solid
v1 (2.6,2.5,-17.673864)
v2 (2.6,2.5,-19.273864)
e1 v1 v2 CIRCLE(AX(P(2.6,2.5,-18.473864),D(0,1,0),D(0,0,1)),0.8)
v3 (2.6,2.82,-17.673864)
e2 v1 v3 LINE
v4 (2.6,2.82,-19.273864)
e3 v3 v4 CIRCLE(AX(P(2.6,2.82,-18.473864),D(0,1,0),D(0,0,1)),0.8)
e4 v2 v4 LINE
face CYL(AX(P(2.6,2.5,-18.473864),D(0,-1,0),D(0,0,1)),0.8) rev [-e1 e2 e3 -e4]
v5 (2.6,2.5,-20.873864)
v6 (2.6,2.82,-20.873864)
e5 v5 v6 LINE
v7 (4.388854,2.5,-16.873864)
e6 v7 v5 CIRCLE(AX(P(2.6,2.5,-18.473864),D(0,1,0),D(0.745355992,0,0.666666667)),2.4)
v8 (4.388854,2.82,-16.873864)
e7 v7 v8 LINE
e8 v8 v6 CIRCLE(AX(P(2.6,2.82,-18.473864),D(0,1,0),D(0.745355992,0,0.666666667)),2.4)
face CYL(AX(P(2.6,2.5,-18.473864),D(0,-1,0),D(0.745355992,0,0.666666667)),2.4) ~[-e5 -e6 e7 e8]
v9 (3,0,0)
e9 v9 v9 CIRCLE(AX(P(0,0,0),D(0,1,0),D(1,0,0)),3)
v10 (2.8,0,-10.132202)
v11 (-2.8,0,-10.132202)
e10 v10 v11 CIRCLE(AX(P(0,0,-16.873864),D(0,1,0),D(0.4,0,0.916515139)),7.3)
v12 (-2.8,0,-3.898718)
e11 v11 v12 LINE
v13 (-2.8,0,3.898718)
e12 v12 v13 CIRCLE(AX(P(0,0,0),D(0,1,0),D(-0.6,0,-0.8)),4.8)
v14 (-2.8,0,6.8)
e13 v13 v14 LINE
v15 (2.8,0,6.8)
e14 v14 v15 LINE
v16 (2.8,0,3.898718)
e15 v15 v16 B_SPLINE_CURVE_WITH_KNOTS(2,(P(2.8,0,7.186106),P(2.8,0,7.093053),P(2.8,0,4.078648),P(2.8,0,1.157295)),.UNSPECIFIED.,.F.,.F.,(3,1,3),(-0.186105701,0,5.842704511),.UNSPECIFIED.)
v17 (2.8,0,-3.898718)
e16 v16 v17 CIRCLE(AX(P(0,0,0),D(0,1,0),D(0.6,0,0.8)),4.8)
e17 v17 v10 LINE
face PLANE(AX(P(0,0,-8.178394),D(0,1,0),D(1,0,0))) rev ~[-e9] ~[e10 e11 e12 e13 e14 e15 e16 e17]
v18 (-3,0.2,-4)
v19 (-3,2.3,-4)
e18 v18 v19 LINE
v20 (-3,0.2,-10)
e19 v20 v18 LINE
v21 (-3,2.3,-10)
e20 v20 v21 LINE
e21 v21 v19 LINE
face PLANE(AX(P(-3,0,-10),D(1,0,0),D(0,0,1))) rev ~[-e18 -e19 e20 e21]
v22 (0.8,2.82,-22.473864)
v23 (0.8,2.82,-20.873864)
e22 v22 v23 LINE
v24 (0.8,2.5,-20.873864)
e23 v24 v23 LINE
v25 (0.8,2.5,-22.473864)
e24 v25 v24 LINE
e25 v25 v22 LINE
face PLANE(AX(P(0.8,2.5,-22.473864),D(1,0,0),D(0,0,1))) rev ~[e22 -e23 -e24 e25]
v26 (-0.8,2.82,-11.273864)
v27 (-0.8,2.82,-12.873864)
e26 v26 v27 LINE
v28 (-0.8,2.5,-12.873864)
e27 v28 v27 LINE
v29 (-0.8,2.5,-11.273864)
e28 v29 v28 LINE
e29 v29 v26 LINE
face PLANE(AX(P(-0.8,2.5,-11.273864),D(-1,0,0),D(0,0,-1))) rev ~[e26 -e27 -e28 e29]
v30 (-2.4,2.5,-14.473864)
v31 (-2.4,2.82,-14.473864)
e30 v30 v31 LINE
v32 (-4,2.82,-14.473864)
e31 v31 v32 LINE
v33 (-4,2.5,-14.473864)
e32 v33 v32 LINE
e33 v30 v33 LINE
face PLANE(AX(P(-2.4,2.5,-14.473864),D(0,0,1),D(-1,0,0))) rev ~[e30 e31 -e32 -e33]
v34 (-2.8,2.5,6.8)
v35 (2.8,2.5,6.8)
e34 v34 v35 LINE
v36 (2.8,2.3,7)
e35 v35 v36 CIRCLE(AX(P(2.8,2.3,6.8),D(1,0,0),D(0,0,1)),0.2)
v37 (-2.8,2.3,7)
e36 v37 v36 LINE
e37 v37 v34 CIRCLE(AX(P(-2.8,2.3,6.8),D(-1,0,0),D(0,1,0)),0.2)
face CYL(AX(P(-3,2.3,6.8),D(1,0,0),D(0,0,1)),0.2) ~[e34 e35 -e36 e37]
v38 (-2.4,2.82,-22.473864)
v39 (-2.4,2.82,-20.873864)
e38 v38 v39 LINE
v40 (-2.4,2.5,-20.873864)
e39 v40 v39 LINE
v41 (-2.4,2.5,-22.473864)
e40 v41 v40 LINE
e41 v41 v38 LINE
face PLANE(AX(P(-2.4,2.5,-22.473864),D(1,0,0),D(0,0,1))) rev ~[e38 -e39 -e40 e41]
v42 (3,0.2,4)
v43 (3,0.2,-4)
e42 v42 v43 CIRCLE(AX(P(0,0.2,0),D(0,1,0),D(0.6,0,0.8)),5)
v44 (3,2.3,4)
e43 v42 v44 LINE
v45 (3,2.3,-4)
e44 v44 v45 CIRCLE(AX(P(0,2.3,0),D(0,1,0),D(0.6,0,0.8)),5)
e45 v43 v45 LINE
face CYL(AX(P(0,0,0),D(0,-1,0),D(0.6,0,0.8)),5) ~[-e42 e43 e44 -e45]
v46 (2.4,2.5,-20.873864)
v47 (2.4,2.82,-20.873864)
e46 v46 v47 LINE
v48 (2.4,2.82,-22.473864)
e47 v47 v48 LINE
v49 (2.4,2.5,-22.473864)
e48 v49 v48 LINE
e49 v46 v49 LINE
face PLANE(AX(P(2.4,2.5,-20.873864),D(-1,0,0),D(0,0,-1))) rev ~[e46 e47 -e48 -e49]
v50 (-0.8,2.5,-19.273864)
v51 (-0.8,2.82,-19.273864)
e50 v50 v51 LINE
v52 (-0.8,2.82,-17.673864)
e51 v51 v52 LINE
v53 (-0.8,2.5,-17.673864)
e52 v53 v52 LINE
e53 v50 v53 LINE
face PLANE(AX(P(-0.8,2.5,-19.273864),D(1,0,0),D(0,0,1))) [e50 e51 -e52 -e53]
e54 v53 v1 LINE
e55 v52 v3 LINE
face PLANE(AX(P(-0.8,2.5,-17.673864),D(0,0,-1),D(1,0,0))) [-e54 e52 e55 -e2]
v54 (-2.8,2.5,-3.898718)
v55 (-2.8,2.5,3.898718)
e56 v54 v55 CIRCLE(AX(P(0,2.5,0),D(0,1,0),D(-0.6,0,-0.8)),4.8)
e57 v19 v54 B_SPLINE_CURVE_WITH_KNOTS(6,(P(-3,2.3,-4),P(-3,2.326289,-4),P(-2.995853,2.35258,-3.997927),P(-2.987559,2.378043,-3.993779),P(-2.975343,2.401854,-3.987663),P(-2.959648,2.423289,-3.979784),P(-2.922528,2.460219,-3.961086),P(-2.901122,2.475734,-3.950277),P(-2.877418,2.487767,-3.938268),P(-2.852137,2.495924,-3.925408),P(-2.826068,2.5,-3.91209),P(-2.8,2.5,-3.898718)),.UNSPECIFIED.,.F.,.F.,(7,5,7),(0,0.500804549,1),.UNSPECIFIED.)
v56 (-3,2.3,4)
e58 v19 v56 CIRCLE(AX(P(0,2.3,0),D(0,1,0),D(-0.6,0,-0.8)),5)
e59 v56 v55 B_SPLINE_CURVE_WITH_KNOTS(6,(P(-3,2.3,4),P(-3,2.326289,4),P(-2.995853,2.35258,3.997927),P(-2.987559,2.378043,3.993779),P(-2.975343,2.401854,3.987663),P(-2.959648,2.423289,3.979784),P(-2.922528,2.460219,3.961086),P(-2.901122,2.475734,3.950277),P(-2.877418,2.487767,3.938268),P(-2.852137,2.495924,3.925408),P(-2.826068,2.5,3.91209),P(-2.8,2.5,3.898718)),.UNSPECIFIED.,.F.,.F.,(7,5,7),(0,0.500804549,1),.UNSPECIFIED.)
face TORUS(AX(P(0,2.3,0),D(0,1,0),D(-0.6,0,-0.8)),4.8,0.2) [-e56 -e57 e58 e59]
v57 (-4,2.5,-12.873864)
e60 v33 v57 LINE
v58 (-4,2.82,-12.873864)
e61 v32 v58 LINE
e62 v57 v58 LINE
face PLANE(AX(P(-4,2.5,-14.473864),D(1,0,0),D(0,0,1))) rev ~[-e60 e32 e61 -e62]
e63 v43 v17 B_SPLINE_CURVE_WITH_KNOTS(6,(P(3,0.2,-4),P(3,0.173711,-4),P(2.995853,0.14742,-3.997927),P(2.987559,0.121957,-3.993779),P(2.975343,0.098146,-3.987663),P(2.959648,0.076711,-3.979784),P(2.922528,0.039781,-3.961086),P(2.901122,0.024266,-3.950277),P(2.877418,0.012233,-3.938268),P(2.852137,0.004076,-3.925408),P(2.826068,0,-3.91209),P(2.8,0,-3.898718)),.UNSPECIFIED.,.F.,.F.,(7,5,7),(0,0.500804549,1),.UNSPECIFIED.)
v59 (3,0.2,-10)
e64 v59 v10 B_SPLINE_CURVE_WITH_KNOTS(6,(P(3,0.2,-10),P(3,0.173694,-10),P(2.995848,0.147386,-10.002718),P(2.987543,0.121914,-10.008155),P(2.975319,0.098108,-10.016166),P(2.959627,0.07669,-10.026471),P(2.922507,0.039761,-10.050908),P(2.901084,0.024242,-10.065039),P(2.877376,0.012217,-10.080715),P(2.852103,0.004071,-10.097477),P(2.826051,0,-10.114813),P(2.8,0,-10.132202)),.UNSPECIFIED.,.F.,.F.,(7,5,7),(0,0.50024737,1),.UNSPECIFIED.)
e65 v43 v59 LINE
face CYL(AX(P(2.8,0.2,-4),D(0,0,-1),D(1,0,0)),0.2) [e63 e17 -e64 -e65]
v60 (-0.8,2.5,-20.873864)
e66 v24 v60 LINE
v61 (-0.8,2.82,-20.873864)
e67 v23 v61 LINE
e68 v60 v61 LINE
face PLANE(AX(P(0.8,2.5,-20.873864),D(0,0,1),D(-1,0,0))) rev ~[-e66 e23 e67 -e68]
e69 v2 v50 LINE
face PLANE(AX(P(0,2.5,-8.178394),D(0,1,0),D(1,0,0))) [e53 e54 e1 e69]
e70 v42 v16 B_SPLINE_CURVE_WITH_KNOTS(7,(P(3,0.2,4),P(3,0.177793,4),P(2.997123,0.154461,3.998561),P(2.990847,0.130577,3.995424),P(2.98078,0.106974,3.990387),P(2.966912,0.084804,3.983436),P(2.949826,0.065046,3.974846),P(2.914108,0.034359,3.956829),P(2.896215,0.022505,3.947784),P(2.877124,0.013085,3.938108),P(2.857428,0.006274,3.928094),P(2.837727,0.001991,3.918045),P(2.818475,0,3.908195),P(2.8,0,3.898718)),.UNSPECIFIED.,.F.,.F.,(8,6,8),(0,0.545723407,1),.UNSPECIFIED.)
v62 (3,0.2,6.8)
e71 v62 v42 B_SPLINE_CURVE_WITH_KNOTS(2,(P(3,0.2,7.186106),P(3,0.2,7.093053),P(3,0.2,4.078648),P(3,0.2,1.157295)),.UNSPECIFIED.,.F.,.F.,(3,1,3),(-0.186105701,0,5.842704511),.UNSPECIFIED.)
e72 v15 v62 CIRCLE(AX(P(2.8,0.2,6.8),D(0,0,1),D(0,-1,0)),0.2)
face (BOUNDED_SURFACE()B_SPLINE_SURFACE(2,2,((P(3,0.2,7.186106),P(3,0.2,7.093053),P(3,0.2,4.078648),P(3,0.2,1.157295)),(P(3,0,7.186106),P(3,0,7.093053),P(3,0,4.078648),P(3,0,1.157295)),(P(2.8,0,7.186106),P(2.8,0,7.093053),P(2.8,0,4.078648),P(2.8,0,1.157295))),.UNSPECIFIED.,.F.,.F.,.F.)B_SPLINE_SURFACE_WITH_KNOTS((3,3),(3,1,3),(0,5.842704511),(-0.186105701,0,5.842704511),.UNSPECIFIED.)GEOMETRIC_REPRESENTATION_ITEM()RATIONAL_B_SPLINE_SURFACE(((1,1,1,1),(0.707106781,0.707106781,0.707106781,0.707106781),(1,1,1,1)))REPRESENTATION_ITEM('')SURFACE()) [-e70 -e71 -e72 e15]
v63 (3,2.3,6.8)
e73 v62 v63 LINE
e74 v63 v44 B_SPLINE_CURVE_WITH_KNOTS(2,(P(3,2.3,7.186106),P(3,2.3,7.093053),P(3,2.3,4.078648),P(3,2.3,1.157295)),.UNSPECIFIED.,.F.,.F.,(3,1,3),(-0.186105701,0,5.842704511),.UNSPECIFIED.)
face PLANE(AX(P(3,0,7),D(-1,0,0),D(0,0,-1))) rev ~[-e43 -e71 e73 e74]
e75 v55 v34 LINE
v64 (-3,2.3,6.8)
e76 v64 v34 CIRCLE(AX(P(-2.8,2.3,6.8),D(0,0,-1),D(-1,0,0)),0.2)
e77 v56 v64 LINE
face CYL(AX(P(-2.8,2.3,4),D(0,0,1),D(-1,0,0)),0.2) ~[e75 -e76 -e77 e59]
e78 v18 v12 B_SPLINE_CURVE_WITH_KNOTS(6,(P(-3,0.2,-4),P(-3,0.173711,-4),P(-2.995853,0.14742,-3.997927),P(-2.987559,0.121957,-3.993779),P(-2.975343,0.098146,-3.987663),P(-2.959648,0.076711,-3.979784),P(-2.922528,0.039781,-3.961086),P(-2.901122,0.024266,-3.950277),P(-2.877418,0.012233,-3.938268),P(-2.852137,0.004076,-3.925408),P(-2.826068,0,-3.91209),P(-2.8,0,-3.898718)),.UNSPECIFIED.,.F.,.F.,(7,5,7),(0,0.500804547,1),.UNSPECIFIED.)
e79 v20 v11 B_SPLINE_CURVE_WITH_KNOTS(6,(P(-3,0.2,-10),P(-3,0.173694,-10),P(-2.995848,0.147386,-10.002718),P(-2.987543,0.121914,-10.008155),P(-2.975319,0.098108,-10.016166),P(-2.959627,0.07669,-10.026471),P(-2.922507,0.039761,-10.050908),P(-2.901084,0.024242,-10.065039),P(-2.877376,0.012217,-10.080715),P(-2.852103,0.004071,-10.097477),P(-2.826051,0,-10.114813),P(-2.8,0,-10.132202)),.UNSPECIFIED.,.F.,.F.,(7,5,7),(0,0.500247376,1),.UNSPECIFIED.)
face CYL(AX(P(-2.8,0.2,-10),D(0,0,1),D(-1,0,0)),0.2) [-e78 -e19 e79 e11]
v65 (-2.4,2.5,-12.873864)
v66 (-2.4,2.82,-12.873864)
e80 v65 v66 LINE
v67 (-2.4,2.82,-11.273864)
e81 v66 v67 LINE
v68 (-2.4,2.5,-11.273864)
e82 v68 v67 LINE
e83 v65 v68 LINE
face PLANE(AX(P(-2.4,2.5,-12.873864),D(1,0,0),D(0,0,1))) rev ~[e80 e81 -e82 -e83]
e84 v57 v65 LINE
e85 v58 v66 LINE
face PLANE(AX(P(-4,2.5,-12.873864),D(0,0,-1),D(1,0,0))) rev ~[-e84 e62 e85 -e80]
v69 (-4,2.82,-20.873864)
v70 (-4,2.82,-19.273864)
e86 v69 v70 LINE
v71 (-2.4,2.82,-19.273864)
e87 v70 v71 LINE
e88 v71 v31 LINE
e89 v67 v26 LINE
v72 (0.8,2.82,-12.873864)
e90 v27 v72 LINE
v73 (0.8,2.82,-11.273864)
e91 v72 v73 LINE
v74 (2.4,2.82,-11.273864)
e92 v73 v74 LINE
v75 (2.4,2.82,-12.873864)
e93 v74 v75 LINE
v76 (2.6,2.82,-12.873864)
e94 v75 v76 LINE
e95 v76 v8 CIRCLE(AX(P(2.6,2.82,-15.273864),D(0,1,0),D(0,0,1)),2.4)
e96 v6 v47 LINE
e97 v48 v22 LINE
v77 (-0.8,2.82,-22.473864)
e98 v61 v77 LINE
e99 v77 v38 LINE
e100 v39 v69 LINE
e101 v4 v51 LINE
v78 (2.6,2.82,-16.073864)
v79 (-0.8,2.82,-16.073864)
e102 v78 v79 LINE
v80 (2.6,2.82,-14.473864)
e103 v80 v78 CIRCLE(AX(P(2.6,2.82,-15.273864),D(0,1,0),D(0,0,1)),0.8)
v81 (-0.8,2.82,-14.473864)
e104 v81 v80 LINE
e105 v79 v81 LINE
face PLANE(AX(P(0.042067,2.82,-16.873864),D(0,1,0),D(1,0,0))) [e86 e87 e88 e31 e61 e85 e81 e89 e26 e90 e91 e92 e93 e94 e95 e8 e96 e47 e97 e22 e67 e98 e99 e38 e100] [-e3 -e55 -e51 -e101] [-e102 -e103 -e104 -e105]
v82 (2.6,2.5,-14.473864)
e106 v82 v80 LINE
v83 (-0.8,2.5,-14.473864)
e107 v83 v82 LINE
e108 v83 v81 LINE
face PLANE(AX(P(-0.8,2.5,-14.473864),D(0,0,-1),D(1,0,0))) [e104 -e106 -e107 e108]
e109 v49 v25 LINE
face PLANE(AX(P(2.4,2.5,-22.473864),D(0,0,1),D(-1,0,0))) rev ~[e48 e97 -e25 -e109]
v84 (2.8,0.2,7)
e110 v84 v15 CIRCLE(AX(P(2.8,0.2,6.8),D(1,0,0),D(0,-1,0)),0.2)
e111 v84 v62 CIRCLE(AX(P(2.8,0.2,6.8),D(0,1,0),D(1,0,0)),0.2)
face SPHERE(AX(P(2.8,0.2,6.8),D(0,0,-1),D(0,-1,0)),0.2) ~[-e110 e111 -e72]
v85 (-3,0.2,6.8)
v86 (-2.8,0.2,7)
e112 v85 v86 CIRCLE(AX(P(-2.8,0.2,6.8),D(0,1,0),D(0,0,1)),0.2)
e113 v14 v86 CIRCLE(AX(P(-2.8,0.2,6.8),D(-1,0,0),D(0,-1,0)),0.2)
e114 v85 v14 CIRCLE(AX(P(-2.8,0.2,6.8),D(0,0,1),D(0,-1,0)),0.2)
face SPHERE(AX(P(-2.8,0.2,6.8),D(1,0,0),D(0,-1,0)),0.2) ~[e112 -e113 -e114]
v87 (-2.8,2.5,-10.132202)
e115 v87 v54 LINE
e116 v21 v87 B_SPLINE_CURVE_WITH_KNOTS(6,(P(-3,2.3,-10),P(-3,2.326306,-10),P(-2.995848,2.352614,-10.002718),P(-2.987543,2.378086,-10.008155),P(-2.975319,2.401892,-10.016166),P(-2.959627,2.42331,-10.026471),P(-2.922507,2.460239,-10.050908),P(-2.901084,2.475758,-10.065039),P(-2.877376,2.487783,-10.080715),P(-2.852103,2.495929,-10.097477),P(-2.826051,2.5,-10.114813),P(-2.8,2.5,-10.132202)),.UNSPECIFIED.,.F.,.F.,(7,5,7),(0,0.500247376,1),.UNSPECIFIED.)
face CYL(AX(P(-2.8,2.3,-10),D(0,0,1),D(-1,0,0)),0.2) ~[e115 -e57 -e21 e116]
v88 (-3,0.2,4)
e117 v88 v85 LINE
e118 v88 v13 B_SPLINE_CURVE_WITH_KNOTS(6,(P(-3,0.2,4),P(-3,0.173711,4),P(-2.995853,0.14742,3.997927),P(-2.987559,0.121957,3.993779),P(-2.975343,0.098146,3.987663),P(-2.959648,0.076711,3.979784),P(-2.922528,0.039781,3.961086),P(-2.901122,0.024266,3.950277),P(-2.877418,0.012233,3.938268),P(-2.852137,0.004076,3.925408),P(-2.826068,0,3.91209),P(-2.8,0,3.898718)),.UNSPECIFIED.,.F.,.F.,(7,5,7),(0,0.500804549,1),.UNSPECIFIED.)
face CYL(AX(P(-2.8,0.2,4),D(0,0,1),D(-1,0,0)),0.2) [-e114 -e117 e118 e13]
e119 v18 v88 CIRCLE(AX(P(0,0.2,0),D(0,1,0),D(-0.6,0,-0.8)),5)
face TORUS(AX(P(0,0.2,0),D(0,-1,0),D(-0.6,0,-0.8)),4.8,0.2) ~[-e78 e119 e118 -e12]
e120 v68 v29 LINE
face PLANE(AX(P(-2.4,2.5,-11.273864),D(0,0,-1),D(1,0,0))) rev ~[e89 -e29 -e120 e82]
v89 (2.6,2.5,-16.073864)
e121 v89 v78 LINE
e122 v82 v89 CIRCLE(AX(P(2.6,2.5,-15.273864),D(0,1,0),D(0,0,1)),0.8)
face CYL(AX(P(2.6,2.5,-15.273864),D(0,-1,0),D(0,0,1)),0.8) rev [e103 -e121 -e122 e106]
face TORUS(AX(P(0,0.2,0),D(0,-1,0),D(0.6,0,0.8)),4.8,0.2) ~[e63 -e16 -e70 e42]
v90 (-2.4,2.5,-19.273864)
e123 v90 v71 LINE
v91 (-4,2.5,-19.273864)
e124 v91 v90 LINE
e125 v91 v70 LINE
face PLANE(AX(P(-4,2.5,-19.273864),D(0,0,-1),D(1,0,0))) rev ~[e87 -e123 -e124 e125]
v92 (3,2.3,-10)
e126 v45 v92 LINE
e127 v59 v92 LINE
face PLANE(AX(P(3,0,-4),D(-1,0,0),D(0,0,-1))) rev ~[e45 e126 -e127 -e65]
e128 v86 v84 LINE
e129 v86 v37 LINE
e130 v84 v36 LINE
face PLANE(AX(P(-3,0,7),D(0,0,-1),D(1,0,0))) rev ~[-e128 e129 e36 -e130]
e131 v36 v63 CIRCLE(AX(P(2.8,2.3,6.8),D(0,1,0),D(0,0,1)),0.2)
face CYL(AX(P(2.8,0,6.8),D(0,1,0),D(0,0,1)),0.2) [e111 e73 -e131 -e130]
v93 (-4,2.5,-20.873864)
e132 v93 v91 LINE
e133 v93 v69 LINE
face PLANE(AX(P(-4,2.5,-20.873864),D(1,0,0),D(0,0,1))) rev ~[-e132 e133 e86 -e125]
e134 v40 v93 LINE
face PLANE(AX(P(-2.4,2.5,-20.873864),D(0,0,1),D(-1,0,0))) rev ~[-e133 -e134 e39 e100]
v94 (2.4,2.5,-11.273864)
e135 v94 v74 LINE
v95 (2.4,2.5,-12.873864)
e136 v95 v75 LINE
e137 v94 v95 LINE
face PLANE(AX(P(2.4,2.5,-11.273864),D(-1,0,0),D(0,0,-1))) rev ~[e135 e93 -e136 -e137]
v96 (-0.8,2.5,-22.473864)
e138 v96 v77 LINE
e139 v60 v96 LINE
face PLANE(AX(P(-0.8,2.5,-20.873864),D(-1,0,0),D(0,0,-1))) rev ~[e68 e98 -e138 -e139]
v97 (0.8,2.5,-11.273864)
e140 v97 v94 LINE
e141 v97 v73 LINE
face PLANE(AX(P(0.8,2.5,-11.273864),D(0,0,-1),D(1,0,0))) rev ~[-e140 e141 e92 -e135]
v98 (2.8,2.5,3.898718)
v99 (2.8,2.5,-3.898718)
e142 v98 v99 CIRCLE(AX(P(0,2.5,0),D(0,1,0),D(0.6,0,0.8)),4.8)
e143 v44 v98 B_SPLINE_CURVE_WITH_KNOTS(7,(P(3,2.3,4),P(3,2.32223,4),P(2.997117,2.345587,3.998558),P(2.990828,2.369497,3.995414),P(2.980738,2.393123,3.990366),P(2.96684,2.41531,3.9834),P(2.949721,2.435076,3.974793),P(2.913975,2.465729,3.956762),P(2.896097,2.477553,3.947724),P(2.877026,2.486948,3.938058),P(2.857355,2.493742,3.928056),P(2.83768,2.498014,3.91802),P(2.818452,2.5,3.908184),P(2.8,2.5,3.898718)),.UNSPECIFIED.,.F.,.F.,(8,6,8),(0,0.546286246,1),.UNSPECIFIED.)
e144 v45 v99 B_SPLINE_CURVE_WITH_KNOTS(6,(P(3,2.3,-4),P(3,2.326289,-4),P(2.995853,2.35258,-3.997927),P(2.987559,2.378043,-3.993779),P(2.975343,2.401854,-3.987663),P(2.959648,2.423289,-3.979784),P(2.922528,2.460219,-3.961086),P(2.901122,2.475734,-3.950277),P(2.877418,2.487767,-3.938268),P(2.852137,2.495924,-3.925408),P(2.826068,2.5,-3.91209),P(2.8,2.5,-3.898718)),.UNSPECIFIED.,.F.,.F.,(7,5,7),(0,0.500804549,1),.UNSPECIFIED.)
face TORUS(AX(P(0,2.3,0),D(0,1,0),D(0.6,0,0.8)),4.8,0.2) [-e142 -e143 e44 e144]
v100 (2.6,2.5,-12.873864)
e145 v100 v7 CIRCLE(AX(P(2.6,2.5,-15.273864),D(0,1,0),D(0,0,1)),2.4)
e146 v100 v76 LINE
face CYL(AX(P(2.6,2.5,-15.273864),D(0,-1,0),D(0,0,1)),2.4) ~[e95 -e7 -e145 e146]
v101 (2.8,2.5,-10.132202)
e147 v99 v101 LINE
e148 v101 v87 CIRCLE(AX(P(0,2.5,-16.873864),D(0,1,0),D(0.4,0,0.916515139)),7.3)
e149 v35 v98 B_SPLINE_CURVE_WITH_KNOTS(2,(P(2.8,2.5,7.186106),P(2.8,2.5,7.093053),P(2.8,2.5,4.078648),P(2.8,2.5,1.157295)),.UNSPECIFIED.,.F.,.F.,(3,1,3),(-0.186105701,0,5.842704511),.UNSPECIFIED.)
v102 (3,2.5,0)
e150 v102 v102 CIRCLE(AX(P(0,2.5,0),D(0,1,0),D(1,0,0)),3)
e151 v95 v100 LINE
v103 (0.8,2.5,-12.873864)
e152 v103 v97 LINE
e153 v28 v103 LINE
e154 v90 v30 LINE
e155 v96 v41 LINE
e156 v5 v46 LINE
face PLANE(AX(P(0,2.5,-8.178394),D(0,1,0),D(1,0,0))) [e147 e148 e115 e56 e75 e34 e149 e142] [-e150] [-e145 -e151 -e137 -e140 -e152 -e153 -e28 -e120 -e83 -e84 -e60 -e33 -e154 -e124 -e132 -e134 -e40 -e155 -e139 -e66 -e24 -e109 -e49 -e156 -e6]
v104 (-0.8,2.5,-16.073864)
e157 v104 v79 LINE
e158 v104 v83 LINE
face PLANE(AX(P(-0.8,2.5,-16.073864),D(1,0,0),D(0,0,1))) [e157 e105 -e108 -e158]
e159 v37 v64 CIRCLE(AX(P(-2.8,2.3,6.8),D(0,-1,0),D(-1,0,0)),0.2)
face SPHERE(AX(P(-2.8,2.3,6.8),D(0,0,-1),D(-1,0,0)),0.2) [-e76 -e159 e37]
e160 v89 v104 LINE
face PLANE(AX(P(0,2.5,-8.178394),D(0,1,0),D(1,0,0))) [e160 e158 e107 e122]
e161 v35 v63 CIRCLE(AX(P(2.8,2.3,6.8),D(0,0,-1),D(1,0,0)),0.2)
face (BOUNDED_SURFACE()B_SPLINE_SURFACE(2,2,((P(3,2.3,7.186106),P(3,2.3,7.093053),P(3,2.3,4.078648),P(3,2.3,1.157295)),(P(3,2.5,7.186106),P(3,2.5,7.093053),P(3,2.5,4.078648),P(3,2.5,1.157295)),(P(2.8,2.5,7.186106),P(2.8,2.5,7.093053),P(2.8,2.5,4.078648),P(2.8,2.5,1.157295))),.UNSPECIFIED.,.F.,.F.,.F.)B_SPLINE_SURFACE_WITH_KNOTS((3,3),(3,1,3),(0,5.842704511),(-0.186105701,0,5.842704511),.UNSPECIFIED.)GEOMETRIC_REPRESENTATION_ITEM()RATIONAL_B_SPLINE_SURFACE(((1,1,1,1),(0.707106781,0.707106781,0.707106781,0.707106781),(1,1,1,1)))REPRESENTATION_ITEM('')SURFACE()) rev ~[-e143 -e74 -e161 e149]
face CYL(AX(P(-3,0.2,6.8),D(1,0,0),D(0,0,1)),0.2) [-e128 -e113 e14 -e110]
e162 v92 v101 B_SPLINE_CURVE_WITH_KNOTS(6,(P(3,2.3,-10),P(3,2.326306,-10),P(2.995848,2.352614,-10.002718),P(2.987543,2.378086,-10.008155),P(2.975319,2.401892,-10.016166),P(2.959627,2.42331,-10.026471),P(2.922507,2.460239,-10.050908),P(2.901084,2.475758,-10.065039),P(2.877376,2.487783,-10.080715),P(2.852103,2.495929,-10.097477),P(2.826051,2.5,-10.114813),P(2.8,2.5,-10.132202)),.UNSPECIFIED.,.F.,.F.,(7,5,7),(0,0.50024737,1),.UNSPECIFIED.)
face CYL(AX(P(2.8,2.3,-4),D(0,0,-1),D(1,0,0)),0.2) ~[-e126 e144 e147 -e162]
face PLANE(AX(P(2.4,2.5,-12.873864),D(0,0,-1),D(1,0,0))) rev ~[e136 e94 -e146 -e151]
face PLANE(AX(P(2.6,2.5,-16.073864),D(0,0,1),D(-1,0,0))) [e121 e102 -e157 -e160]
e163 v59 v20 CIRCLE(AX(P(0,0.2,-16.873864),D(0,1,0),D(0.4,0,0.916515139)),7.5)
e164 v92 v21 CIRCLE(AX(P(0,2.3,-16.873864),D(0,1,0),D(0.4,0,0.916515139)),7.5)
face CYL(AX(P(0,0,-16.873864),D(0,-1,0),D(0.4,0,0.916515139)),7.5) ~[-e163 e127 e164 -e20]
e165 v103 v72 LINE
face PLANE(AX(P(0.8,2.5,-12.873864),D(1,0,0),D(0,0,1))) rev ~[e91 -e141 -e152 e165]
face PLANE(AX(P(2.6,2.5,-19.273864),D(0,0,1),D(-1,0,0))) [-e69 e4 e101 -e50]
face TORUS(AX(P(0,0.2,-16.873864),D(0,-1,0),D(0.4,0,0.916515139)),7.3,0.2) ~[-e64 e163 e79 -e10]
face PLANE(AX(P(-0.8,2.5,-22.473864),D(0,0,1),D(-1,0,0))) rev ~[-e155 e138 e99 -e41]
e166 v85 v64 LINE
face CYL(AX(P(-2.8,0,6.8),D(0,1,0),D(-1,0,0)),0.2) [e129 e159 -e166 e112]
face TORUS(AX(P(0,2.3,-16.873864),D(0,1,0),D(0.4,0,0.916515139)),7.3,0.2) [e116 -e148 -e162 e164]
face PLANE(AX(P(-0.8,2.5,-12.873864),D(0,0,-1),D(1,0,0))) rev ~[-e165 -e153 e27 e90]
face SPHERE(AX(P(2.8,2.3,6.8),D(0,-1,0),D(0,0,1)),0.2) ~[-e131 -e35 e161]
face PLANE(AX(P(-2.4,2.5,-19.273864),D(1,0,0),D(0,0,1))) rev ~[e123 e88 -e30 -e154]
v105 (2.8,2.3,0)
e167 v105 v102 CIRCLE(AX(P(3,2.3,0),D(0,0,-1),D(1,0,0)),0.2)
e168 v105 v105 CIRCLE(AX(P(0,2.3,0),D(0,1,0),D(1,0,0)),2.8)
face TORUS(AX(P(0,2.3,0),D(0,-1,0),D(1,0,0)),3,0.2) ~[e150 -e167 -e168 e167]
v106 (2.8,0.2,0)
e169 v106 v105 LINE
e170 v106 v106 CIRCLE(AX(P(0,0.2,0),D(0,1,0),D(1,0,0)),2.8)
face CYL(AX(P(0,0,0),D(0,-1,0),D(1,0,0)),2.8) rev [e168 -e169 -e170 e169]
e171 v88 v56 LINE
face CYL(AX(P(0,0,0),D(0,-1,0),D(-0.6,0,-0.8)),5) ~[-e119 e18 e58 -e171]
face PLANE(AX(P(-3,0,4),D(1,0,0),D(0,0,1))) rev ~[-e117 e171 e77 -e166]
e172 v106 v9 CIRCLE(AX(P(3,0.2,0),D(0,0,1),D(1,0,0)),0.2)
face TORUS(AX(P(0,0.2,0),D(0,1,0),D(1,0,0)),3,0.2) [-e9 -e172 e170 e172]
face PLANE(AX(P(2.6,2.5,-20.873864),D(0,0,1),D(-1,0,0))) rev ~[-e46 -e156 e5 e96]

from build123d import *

# Parameters (mm, degrees)
SKETCH_4_R      = 2.8
EXTRUDE_2_DEPTH = 2.5
FILLET_1_R      = 0.2
EXTRUDE_3_DEPTH = 0.32


with BuildPart() as part:
    # 草图4 → 凸台-拉伸2 (new body)
    with BuildSketch(Plane(origin=(0, 0, 0), x_dir=(1, 0, 0), z_dir=(0, 1, 0))):
        with BuildLine():
            Line((-3, 10), (-3, 4))
            ThreePointArc((-3, 4), (-5, 0), (-3, -4))
            Line((-3, -4), (-3, -7))
            Line((-3, -7), (3, -7))
            Line((3, -7), (3, -4))
            ThreePointArc((3, -4), (5, 0), (3, 4))
            Line((3, 4), (3, 10))
            ThreePointArc((3, 10), (0, 24.373863542), (-3, 10))
        make_face()
        Circle(SKETCH_4_R, mode=Mode.SUBTRACT)
    extrude(amount=EXTRUDE_2_DEPTH)

    # 圆角1
    fillet_1_edges = [part.edges().sort_by_distance(p)[0] for p in [
        (-2.8, 0, 0),
        (-5, 2.5, 0),
        (0, 0, -24.373863542),
        (3, 0, -7),
        (5, 0, 0),
        (3, 0, 5.5),
        (0, 0, 7),
        (-3, 0, 5.5),
        (-5, 0, 0),
        (-3, 0, -7),
        (-3, 2.5, 5.5),
        (3, 1.25, 7),
        (-3, 1.25, 7),
        (0, 2.5, 7),
        (3, 2.5, 5.5),
        (5, 2.5, 0),
        (3, 2.5, -7),
        (0, 2.5, -24.373863542),
        (-2.8, 2.5, 0),
        (-3, 2.5, -7),
    ]]
    fillet(fillet_1_edges, radius=FILLET_1_R)

    # 草图1 → 凸台-拉伸3 (add)
    with BuildSketch(Plane(origin=(0, 2.5, 0), x_dir=(1, 0, 0), z_dir=(0, 1, 0))):
        with BuildLine():
            Line((-0.8, 22.473863542), (-2.4, 22.473863542))
            Line((-2.4, 22.473863542), (-2.4, 20.873863542))
            Line((-2.4, 20.873863542), (-4, 20.873863542))
            Line((-4, 20.873863542), (-4, 19.273863542))
            Line((-4, 19.273863542), (-2.4, 19.273863542))
            Line((-2.4, 19.273863542), (-2.4, 14.473863542))
            Line((-2.4, 14.473863542), (-4, 14.473863542))
            Line((-4, 14.473863542), (-4, 12.873863542))
            Line((-4, 12.873863542), (-2.4, 12.873863542))
            Line((-2.4, 12.873863542), (-2.4, 11.273863542))
            Line((-2.4, 11.273863542), (-0.8, 11.273863542))
            Line((-0.8, 11.273863542), (-0.8, 12.873863542))
            Line((-0.8, 12.873863542), (0.8, 12.873863542))
            Line((0.8, 12.873863542), (0.8, 11.273863542))
            Line((0.8, 11.273863542), (2.4, 11.273863542))
            Line((2.4, 11.273863542), (2.4, 12.873863542))
            Line((2.4, 12.873863542), (2.6, 12.873863542))
            ThreePointArc((2.6, 12.873863542), (4.79089023, 14.294067645), (4.388854382, 16.873863542))
            ThreePointArc((4.388854382, 16.873863542), (4.79089023, 19.45365944), (2.6, 20.873863542))
            Line((2.6, 20.873863542), (2.4, 20.873863542))
            Line((2.4, 20.873863542), (2.4, 22.473863542))
            Line((2.4, 22.473863542), (0.8, 22.473863542))
            Line((0.8, 22.473863542), (0.8, 20.873863542))
            Line((0.8, 20.873863542), (-0.8, 20.873863542))
            Line((-0.8, 20.873863542), (-0.8, 22.473863542))
        make_face()
        with BuildLine():
            Line((-0.8, 17.673863542), (2.6, 17.673863542))
            ThreePointArc((2.6, 17.673863542), (3.4, 18.473863542), (2.6, 19.273863542))
            Line((2.6, 19.273863542), (-0.8, 19.273863542))
            Line((-0.8, 19.273863542), (-0.8, 17.673863542))
        make_face(mode=Mode.SUBTRACT)
        with BuildLine():
            Line((2.6, 16.073863542), (-0.8, 16.073863542))
            Line((-0.8, 16.073863542), (-0.8, 14.473863542))
            Line((-0.8, 14.473863542), (2.6, 14.473863542))
            ThreePointArc((2.6, 14.473863542), (3.4, 15.273863542), (2.6, 16.073863542))
        make_face(mode=Mode.SUBTRACT)
    extrude(amount=EXTRUDE_3_DEPTH)


solid = part.part
